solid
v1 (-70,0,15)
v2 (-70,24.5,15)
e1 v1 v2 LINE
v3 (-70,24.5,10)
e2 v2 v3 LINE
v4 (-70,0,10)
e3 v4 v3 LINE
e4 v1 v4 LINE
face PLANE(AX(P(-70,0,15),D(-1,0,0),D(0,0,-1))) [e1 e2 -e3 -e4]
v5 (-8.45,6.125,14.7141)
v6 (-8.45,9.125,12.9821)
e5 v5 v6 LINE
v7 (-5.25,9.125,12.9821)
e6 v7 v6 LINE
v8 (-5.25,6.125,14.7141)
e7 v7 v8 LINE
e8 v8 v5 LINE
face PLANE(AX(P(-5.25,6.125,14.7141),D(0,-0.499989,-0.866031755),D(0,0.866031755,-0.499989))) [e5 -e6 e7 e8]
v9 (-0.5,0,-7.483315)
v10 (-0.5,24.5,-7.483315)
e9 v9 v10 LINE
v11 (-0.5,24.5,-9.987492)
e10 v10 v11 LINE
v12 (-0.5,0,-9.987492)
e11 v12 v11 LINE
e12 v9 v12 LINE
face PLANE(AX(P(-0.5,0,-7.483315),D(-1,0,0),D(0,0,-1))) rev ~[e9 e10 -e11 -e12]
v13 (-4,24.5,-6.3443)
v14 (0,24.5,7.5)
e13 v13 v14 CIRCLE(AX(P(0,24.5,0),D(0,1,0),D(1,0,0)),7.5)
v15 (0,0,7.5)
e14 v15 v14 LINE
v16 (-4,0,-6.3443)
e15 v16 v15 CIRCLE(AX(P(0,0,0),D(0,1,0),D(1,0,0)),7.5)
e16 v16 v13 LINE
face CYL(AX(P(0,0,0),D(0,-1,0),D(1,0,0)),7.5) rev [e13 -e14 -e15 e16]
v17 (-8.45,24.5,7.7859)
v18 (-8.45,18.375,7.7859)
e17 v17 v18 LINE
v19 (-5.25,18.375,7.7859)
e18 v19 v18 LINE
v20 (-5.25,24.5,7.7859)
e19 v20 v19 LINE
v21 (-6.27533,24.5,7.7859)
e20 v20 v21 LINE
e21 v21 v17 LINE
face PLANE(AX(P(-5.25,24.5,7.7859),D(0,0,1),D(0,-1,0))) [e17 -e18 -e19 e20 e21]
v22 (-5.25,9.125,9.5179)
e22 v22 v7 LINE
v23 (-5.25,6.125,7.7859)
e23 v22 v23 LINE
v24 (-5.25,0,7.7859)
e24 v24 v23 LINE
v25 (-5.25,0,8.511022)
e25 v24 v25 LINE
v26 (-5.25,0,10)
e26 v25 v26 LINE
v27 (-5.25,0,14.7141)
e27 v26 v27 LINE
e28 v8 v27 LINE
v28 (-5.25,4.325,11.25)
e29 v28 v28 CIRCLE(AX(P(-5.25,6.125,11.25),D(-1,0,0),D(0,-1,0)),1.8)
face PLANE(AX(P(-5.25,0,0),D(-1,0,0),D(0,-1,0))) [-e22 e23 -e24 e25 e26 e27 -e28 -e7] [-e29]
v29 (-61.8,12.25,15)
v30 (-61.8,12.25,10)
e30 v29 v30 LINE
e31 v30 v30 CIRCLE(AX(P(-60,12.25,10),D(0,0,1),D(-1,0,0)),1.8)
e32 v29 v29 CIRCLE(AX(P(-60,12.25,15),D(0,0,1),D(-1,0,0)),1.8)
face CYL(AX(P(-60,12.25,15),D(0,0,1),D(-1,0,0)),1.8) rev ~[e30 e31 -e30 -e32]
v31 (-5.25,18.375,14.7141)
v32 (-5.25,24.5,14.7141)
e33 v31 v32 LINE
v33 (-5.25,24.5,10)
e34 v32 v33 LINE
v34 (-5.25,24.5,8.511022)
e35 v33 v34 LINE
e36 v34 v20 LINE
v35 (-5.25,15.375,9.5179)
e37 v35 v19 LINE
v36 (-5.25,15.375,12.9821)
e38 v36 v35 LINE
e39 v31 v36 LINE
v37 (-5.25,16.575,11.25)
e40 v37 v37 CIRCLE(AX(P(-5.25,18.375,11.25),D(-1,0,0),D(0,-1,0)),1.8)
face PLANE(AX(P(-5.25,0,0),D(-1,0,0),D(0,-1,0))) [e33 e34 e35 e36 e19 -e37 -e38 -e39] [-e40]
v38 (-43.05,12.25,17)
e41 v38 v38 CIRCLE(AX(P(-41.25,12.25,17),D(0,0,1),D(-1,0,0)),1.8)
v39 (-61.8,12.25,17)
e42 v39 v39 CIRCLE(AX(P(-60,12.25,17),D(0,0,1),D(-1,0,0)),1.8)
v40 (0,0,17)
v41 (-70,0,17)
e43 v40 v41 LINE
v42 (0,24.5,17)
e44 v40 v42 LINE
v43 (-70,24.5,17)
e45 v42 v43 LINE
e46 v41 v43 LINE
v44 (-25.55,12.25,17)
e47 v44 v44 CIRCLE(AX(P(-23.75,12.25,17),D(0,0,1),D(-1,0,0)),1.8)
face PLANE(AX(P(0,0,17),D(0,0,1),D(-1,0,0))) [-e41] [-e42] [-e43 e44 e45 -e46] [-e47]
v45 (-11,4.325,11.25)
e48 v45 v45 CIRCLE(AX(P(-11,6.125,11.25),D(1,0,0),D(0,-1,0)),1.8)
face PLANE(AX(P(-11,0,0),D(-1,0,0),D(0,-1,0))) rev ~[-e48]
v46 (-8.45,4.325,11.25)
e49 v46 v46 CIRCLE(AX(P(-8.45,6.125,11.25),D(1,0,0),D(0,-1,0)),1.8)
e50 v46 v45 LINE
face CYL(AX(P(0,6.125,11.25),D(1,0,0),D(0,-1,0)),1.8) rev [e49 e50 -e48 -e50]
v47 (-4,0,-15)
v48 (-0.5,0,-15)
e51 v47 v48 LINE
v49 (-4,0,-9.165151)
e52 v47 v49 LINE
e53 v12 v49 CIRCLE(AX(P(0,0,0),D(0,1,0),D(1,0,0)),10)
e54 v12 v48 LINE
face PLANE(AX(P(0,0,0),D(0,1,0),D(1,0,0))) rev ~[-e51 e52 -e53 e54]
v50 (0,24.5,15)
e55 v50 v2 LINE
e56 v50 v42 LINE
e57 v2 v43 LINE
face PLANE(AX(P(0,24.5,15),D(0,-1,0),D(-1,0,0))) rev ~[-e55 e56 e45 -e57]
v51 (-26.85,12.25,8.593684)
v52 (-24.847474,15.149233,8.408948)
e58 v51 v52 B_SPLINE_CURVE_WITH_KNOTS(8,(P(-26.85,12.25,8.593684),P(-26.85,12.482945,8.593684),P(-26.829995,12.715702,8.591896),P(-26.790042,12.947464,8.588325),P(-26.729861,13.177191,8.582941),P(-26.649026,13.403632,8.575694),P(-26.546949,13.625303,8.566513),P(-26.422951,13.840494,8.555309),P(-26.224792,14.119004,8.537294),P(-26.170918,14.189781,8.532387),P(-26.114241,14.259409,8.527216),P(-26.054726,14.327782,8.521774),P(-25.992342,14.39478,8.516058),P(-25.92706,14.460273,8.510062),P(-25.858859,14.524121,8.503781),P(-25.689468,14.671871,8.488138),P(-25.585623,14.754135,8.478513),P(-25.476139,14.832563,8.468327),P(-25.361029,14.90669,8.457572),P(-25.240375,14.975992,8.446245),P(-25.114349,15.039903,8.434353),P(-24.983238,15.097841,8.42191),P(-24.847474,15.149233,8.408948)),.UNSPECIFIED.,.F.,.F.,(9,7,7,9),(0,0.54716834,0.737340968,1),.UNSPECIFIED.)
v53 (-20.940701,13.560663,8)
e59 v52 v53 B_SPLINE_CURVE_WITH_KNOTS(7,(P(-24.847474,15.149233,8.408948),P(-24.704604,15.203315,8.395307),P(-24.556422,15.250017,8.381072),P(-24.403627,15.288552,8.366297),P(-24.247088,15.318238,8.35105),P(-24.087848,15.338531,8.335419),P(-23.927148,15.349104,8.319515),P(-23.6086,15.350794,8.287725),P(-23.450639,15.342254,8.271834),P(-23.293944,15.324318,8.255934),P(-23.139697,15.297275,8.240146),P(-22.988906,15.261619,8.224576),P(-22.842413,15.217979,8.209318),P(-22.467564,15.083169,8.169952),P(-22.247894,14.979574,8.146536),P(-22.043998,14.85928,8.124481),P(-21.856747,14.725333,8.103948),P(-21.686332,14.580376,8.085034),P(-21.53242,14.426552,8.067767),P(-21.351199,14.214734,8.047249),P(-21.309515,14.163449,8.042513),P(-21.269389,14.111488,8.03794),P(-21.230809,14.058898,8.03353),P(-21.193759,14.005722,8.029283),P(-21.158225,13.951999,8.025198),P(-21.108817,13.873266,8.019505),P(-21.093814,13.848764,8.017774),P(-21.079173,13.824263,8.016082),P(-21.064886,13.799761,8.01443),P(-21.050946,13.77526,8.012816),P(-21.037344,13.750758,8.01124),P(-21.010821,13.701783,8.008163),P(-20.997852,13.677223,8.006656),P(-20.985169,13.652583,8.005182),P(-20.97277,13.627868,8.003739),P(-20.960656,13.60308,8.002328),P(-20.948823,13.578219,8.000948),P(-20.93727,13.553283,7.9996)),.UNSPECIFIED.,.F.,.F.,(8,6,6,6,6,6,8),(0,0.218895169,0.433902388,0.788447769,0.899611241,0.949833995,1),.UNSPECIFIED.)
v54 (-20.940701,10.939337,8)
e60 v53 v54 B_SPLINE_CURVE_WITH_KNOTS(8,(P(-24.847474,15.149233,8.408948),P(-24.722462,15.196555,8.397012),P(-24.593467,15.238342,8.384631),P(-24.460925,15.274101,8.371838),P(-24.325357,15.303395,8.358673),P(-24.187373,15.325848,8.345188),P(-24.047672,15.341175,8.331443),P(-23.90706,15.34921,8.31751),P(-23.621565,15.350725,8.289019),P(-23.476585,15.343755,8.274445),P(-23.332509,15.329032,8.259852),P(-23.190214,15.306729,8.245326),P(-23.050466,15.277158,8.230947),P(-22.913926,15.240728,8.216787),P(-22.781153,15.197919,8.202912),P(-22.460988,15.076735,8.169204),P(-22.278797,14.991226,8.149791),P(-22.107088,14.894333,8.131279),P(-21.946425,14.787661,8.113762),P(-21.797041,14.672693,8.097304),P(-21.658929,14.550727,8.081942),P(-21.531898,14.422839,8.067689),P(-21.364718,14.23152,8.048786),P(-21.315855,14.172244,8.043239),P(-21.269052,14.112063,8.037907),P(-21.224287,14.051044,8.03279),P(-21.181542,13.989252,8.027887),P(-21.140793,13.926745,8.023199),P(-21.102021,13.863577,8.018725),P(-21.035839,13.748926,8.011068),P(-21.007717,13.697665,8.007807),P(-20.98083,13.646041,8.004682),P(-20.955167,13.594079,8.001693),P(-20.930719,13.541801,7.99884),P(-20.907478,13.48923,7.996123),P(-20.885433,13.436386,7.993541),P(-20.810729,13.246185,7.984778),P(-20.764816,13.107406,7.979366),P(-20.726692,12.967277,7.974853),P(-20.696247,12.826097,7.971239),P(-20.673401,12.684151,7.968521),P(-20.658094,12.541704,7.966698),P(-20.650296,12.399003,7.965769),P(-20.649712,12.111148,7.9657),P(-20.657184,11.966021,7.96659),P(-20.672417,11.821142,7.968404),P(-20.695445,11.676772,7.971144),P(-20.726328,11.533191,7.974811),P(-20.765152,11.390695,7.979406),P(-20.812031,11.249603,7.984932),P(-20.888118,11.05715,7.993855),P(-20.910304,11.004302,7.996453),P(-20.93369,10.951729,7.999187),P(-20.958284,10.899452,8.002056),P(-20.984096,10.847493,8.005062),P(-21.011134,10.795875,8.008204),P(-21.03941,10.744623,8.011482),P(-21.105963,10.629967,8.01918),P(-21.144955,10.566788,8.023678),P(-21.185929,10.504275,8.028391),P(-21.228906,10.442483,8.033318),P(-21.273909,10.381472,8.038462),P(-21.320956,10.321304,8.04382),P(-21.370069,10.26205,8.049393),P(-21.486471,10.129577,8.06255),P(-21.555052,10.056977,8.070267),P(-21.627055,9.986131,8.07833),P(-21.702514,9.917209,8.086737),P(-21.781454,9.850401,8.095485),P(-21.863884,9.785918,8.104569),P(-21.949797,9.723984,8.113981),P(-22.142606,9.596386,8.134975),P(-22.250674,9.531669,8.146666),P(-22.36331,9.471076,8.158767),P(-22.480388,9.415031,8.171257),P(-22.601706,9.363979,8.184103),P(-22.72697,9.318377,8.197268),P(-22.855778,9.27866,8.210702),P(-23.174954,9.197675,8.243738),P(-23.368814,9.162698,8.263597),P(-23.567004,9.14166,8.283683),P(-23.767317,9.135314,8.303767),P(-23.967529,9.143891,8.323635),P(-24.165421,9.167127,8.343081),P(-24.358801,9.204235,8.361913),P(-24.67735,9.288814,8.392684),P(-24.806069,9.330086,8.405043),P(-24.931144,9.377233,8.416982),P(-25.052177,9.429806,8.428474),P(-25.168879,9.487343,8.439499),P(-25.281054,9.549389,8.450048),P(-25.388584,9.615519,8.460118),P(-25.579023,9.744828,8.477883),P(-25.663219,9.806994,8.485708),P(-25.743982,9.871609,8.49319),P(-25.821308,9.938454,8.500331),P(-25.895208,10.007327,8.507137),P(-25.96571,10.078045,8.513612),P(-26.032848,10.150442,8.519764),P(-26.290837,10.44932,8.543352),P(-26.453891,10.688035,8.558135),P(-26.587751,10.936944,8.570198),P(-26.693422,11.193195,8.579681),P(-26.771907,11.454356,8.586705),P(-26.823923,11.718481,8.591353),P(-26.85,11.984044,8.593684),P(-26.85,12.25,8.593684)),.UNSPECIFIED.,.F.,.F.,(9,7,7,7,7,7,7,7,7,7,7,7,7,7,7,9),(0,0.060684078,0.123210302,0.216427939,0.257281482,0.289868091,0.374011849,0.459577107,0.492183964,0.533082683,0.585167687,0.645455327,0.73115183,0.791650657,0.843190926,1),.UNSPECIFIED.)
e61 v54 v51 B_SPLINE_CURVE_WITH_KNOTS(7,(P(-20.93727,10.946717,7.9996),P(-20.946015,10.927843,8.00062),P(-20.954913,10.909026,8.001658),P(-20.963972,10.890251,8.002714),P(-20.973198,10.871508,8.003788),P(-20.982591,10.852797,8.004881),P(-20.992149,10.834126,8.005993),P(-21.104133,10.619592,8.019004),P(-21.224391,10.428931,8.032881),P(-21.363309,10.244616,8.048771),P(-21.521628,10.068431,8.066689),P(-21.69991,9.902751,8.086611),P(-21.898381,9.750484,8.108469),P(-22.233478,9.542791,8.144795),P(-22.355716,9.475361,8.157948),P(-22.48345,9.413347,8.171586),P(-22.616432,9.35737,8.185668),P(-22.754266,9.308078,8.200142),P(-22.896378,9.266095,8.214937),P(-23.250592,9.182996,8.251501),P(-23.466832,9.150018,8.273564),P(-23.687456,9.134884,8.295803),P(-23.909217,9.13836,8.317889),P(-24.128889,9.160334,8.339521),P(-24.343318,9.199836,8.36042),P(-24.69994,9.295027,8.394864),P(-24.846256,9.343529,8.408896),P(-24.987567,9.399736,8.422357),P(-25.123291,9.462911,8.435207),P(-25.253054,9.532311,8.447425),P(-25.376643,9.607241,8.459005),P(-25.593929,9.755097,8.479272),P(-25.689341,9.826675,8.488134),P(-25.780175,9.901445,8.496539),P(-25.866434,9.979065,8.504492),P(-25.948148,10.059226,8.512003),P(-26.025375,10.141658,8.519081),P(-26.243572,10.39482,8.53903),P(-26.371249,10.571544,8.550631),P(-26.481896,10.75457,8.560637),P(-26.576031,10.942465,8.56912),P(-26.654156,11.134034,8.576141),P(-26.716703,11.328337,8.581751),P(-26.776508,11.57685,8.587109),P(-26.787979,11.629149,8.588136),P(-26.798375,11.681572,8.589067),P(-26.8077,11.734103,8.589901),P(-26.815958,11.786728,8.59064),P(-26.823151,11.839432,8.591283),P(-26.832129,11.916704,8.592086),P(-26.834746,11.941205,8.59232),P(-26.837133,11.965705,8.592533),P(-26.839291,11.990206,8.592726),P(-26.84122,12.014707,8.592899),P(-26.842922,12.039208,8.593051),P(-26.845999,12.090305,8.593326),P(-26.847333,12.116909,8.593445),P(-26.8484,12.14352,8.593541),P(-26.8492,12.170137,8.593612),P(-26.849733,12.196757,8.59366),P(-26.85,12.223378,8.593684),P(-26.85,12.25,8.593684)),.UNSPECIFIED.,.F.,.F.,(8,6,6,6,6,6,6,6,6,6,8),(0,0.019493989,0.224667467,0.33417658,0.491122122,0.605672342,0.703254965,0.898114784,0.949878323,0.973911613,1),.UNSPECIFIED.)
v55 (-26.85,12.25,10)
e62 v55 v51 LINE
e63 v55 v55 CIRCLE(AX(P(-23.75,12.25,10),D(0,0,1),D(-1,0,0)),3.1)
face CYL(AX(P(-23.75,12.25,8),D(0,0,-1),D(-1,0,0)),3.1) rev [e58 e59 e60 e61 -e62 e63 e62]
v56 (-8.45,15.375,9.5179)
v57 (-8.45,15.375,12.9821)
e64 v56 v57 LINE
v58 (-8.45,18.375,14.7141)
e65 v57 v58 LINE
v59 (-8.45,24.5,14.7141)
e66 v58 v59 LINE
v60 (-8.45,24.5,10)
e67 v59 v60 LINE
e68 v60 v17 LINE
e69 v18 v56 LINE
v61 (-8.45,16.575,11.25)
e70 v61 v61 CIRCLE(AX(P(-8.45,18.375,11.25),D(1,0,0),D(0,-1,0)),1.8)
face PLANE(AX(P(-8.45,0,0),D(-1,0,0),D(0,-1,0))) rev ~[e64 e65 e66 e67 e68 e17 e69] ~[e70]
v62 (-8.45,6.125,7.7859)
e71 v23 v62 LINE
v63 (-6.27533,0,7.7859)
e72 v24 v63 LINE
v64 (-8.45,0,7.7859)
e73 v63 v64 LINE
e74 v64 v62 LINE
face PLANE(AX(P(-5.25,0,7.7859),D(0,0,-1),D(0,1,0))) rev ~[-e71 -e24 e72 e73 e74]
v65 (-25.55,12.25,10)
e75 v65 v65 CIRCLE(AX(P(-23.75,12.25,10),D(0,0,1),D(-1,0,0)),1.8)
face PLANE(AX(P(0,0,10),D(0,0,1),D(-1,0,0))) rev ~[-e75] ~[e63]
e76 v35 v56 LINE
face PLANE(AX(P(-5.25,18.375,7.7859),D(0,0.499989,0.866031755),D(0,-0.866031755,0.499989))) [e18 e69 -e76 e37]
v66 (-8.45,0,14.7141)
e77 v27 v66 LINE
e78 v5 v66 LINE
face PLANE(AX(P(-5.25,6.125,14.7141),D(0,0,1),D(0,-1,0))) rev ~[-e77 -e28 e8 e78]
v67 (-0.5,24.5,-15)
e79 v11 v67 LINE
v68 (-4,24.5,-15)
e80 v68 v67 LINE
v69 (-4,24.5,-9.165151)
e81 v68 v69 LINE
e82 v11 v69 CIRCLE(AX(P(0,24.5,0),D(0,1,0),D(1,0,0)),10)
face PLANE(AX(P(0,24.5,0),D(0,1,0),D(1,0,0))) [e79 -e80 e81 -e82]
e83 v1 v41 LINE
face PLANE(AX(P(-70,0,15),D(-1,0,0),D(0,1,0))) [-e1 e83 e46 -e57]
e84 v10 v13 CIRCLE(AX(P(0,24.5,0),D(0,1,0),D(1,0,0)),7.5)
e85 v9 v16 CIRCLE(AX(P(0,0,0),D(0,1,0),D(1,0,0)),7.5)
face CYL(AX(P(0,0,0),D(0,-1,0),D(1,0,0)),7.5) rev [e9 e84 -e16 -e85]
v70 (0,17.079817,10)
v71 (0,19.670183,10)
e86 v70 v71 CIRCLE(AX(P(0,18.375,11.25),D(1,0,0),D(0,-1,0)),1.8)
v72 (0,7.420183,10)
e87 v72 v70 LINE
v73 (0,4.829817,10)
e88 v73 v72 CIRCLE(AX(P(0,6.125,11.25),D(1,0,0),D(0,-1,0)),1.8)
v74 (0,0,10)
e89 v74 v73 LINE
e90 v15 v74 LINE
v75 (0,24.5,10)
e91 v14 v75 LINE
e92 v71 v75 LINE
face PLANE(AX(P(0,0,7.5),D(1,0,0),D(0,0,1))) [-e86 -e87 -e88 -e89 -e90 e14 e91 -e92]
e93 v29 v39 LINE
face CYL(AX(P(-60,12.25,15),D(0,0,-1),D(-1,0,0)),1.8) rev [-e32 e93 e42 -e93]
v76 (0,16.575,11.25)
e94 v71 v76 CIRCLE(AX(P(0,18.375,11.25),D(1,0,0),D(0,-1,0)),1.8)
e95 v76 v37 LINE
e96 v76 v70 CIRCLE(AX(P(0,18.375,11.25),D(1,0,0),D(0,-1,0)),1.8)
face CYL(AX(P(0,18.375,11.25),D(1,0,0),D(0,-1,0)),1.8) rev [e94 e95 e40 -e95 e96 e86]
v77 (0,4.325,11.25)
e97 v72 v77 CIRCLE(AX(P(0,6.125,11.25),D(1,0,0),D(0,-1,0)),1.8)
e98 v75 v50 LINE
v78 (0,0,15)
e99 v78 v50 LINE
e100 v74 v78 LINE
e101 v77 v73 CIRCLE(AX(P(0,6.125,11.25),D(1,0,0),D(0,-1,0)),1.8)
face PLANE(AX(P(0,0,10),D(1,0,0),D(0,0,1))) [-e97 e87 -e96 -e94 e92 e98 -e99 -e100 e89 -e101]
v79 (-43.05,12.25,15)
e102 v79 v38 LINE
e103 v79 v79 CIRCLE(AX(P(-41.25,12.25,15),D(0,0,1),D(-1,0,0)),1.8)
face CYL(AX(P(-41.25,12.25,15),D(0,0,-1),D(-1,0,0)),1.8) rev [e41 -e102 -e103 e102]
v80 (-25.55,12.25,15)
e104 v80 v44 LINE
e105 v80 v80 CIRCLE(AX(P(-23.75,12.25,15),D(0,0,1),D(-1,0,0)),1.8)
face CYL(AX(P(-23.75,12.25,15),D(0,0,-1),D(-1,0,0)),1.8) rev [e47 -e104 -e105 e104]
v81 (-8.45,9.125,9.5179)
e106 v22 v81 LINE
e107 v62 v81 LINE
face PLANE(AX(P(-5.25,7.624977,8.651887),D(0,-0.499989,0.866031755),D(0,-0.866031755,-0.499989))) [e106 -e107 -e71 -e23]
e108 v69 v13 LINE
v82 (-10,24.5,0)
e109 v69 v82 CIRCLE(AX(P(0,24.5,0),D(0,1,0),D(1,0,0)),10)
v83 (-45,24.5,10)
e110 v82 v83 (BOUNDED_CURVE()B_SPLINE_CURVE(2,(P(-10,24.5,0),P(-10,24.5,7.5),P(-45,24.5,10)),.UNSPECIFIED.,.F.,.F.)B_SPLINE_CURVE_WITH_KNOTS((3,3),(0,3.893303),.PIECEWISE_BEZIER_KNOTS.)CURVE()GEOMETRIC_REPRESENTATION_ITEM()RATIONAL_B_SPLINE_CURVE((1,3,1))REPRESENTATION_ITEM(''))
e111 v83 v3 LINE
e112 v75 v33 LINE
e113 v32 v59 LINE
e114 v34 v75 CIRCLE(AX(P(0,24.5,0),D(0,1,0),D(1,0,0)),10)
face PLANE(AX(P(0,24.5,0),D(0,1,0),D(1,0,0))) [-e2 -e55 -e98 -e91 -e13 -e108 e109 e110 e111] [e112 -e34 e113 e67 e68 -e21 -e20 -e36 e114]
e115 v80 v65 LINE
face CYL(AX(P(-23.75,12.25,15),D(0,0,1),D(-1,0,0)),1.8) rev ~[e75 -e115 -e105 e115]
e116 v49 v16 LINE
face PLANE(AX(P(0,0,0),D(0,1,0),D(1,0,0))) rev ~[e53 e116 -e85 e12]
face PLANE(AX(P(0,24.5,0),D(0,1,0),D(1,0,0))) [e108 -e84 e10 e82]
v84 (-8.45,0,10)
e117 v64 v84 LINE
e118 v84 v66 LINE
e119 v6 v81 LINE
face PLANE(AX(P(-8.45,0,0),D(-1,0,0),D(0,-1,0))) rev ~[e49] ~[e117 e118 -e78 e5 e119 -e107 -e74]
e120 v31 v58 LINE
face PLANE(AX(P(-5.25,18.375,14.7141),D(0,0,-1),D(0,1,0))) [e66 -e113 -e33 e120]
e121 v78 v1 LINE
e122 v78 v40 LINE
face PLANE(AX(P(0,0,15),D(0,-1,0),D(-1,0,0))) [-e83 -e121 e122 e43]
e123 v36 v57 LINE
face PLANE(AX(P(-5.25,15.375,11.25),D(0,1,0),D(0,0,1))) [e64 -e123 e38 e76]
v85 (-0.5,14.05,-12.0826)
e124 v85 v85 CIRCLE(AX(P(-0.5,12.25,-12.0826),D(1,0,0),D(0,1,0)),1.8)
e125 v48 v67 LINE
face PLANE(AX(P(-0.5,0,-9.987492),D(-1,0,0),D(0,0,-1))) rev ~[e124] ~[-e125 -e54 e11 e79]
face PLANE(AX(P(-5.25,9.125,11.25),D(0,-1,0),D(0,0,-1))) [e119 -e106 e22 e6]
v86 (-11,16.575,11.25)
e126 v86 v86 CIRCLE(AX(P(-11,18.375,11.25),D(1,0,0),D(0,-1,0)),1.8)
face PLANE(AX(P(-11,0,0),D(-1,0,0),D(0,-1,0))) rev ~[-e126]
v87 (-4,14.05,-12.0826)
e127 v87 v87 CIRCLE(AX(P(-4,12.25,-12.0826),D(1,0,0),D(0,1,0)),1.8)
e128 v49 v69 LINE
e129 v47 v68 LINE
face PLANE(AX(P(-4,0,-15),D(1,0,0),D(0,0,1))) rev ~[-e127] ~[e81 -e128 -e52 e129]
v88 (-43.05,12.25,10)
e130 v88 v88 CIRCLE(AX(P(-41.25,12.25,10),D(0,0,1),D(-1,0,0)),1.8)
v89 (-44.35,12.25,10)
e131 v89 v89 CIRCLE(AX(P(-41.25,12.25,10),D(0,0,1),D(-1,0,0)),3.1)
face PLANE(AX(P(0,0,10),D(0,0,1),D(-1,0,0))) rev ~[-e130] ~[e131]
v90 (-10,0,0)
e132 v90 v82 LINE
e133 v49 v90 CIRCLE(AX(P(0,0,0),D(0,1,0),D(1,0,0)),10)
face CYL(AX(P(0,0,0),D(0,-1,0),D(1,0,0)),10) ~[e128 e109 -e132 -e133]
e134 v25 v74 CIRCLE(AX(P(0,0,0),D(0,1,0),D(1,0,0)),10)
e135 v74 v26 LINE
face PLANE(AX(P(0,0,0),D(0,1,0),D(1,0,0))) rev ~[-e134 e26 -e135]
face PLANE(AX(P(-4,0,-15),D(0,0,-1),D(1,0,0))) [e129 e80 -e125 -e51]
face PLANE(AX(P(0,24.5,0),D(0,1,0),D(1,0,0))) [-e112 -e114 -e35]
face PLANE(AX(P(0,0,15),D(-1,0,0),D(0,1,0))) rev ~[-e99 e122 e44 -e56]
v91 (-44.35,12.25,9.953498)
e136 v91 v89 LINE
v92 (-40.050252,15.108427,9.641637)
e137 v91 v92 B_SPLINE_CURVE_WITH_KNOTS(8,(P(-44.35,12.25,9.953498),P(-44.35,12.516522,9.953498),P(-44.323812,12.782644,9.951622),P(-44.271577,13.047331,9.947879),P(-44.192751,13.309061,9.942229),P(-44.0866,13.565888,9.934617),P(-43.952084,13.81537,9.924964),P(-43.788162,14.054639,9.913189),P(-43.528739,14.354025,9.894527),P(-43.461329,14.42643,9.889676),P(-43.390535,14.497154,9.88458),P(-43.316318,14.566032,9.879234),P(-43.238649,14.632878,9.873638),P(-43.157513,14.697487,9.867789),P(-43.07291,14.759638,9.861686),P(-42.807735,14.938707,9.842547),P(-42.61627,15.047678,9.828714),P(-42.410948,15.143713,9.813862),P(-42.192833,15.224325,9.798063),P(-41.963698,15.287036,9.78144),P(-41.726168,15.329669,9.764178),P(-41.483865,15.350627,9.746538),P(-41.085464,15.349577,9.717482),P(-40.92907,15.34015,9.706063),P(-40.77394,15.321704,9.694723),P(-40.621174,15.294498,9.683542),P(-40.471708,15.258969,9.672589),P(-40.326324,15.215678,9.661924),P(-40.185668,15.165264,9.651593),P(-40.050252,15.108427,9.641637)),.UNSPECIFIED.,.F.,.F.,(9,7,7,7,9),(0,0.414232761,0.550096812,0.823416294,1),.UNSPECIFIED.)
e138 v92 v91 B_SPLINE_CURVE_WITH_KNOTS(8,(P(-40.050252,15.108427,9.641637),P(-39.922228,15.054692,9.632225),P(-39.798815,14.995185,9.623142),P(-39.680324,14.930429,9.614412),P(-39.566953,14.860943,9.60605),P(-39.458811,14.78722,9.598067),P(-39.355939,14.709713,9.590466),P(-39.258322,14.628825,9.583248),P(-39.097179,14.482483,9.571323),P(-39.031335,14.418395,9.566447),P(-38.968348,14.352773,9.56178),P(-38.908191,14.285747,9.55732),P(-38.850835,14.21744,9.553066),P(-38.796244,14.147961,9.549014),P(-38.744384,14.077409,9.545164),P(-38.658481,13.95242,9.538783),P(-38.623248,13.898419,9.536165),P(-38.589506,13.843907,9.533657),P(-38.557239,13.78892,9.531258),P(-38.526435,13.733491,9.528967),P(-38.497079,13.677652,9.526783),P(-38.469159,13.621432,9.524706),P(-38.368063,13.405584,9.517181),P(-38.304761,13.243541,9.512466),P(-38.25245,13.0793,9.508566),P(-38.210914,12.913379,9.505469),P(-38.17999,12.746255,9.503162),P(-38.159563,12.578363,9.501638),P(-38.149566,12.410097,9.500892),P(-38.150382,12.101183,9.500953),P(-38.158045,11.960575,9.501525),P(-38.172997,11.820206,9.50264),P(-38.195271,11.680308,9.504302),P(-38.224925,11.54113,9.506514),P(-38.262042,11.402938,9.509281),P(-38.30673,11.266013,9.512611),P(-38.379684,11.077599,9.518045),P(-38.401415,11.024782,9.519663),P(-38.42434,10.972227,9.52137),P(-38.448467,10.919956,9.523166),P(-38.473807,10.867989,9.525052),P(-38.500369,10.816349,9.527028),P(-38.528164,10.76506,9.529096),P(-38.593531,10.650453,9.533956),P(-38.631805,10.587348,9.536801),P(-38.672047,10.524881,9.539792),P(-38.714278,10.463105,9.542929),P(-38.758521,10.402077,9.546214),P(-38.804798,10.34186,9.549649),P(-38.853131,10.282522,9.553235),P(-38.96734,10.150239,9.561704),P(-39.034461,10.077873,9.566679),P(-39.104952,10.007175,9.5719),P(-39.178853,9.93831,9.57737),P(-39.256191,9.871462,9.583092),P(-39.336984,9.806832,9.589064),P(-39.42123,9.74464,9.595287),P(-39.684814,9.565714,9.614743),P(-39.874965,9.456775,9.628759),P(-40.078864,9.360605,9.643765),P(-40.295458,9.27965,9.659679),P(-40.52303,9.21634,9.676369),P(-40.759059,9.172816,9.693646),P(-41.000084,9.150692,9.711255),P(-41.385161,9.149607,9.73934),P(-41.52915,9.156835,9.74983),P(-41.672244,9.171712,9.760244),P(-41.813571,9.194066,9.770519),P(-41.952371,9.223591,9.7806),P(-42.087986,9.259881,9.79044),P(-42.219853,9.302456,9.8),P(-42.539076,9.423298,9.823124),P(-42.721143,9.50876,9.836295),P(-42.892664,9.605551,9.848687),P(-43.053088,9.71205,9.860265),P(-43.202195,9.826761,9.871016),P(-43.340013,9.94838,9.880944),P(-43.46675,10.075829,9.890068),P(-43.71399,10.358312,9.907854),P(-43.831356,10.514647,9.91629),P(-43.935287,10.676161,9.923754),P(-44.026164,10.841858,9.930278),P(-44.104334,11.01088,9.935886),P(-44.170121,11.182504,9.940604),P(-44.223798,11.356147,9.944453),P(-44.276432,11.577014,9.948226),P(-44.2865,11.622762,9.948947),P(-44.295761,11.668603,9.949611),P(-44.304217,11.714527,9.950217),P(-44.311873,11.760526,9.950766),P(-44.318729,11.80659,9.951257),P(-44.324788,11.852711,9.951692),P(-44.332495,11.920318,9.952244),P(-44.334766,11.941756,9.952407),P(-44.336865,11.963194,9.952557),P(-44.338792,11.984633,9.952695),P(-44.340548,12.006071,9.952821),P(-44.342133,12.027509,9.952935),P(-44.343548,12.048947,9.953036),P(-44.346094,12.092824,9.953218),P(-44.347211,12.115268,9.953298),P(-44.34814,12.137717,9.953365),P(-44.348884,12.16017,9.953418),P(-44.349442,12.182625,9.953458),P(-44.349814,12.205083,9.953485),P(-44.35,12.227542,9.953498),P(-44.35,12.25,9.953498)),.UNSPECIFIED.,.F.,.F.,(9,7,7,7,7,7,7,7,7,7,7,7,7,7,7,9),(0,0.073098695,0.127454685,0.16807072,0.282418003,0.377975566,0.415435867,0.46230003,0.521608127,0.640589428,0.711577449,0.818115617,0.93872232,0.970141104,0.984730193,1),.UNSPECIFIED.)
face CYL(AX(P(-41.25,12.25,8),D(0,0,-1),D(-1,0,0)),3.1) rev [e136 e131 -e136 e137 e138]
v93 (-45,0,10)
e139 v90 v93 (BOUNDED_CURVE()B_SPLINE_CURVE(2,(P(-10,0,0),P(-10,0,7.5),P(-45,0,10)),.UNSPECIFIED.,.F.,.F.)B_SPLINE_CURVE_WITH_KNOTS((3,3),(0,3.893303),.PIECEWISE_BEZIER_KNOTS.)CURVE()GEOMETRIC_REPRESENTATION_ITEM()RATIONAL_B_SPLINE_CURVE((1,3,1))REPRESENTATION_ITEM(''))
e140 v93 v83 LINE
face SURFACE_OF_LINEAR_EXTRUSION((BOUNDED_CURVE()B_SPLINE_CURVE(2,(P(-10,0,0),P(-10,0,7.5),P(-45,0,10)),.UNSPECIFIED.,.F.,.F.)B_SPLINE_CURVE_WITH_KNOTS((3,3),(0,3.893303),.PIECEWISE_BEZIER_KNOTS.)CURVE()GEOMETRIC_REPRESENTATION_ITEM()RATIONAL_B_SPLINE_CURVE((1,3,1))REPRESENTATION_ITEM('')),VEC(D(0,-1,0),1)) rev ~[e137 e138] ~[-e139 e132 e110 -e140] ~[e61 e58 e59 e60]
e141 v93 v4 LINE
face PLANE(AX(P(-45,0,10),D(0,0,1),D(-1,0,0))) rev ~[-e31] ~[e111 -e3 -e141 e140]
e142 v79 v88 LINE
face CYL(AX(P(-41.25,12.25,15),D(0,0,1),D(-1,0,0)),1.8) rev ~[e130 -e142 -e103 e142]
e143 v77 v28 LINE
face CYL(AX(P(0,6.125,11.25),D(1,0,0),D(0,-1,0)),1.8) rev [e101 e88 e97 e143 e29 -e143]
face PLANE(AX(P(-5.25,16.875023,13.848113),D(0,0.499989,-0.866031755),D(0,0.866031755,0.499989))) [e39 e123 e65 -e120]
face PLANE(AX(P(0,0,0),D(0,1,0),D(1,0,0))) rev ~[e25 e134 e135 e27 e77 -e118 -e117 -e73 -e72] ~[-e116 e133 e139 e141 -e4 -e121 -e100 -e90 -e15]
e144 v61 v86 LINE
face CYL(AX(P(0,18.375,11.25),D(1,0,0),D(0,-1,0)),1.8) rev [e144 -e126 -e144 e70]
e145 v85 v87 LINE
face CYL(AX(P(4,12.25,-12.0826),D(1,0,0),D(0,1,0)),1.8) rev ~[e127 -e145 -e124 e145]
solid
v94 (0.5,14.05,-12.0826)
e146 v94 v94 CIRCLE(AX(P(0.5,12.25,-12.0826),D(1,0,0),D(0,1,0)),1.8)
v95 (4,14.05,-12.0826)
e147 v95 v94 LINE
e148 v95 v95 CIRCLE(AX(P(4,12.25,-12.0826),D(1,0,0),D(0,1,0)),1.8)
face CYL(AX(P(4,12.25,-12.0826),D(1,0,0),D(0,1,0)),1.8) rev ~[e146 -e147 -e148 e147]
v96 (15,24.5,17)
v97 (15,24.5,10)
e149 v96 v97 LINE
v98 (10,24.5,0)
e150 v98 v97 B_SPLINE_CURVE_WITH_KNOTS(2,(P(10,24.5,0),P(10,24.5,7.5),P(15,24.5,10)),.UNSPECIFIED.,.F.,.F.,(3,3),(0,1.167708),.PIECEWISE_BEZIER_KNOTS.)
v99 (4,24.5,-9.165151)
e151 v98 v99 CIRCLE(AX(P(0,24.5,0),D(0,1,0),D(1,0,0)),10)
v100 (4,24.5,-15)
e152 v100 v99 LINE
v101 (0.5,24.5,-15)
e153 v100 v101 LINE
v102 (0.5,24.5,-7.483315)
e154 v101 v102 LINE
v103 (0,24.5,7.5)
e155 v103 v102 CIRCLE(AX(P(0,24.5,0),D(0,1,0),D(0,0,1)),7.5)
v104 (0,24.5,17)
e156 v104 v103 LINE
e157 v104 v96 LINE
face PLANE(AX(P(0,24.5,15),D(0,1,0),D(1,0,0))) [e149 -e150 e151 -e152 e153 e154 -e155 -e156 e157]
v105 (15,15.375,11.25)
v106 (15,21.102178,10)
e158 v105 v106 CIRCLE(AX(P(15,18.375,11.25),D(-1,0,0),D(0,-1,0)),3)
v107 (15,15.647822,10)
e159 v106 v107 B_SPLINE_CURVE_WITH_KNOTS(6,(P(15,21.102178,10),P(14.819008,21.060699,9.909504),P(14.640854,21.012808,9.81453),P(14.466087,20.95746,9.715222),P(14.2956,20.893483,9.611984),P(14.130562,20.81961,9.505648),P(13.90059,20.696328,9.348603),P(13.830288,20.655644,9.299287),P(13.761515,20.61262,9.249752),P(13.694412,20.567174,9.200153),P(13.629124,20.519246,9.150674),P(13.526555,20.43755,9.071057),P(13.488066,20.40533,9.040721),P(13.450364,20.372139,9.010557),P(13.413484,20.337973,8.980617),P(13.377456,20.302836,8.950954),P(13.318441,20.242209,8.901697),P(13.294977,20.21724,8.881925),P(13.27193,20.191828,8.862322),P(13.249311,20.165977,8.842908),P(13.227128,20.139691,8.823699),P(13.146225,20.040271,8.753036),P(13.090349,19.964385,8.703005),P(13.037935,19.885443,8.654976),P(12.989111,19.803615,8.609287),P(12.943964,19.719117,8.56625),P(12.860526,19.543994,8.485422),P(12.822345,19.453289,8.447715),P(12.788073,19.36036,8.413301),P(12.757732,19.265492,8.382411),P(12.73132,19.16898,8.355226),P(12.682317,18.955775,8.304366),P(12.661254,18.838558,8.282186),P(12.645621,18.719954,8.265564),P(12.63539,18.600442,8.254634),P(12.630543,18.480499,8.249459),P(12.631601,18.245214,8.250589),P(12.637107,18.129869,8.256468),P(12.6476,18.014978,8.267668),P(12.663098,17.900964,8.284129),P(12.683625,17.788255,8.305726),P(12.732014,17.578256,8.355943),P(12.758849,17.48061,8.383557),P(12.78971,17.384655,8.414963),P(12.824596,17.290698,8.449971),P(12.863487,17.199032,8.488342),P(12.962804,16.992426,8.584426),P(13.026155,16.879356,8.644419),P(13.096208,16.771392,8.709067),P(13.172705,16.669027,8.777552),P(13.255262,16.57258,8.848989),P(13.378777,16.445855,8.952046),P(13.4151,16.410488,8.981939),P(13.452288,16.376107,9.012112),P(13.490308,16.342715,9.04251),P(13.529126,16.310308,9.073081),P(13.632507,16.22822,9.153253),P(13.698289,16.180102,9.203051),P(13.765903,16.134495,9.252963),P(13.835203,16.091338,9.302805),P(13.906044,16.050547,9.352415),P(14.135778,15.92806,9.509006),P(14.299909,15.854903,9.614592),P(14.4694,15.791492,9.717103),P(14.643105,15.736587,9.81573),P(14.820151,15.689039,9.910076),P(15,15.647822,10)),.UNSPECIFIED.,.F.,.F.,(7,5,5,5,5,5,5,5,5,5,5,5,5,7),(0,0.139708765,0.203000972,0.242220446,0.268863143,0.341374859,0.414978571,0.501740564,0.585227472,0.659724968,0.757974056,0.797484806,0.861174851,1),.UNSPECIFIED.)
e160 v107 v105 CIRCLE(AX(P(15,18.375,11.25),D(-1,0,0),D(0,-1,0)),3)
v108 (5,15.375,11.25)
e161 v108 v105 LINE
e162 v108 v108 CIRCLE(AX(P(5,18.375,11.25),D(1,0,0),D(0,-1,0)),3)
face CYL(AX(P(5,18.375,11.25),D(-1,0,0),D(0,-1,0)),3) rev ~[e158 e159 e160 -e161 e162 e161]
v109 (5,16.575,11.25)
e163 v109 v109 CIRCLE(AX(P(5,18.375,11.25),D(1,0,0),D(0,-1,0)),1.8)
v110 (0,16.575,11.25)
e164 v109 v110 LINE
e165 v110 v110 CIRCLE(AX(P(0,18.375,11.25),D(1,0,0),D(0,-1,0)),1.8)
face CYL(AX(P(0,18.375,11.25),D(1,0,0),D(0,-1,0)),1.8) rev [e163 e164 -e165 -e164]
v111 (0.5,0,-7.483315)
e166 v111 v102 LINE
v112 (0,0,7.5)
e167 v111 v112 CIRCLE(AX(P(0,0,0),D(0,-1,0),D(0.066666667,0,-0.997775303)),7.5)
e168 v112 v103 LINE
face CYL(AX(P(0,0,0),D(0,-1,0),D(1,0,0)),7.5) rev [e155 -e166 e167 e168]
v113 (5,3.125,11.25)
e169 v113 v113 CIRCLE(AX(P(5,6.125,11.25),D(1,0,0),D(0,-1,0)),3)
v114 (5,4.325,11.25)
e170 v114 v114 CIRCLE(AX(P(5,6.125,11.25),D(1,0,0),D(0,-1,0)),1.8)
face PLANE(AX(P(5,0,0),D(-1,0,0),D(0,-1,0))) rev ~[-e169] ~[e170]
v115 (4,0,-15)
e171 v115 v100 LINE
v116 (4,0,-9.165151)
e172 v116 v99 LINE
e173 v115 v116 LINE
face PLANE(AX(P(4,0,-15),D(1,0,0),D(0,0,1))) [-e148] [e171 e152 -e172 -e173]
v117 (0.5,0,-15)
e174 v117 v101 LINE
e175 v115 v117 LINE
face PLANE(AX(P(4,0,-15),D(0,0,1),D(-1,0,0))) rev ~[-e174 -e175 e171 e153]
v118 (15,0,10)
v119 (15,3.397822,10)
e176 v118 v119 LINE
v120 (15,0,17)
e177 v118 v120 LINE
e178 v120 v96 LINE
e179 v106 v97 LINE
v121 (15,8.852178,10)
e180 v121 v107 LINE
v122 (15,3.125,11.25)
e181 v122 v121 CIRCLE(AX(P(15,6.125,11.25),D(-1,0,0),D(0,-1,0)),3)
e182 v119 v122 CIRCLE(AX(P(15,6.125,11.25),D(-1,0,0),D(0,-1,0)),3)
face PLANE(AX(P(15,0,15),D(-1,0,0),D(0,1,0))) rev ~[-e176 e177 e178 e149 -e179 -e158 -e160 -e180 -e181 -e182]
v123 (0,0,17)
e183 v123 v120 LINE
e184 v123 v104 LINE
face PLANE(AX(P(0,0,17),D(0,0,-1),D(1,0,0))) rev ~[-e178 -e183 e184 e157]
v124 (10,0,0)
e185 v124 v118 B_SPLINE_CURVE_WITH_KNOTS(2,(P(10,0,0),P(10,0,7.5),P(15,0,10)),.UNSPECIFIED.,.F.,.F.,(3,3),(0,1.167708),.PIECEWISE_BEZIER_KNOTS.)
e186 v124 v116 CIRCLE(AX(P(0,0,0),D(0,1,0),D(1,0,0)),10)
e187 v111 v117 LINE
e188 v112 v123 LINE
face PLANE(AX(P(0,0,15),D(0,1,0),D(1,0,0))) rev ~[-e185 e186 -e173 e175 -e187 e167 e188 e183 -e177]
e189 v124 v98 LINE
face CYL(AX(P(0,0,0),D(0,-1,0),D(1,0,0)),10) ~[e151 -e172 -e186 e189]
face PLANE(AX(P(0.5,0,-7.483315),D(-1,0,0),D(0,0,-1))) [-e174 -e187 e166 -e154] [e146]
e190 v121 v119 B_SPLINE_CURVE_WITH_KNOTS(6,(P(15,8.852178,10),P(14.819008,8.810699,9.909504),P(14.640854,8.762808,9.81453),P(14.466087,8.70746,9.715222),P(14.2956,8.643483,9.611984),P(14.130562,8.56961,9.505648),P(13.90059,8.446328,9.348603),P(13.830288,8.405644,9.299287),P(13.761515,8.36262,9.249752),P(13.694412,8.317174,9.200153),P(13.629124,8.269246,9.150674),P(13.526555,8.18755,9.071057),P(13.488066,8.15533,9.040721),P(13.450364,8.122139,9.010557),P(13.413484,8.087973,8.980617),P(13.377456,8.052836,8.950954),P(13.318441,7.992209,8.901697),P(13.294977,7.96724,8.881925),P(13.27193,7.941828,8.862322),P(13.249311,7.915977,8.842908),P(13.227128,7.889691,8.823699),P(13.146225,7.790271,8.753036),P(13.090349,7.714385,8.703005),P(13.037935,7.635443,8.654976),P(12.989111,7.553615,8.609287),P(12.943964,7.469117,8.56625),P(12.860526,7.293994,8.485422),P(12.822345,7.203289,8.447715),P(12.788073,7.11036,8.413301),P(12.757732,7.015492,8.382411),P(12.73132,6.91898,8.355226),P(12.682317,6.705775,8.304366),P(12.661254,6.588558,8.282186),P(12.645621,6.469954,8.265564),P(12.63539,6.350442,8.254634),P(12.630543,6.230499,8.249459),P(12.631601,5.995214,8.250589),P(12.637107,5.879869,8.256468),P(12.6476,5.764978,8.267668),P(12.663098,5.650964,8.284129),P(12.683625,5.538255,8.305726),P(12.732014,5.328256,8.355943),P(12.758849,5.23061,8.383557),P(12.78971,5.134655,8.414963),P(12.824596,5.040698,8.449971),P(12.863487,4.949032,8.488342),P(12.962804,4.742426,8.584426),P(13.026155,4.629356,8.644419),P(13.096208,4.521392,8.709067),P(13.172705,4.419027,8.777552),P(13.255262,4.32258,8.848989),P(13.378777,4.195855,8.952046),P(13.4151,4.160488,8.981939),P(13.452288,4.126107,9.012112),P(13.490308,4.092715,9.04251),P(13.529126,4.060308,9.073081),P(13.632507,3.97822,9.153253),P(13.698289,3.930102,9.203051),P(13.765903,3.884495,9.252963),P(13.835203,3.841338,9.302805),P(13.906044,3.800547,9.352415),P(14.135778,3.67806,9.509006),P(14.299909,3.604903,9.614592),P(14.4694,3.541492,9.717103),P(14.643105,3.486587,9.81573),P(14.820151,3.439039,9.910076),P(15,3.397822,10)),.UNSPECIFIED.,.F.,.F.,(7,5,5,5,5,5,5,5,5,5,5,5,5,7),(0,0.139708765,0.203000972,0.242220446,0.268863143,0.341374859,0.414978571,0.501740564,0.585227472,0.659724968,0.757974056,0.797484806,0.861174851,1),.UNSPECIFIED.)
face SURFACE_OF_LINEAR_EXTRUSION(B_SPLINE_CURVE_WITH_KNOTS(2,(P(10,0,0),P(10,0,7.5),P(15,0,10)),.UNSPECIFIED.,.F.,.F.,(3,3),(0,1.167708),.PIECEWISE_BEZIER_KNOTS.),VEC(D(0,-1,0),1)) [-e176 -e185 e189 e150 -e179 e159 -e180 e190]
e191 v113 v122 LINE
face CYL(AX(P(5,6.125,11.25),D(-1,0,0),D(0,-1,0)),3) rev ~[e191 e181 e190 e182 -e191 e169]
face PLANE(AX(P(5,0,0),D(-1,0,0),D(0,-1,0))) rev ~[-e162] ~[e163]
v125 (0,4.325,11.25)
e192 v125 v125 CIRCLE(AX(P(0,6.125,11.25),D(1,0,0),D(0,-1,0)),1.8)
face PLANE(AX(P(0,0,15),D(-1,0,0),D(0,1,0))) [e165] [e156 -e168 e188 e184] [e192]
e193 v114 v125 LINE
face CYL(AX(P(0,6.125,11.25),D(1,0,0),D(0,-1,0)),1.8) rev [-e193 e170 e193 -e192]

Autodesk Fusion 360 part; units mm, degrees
sketch "front" plane through (0, 0, 0) normal (0, 1, 0) x (1, 0, 0) in component "bearing-holder"
  circle A0 centre (0, 0) radius 7.5
  line L0 (0, 0) -> (0, -15) construction
  line L1 (0, -15) -> (-70, -15)
  line L2 (-70, -15) -> (-70, 15)
  line L3 (-70, 15) -> (0, 15)
  line L4 (0, 15) -> (0, -15)
  line L5 (-70, -15) -> (0, -15)
  line L6 (0, -15) -> (0, -10)
  line L7 (0, -10) -> (-70, -10)
  line L8 (-70, -10) -> (-70, -15)
  circle A1 centre (0, 0) radius 10
  line L9 (-35, -10) -> (-45, -10) construction
  line L10 (0, 0) -> (-10, 0) construction
  line L11 (-10, 0) -> (-10, -7.5) construction
  spline S0 degree 2 poles (-10, 0) (-10, -7.5) (-45, -10) knots 0 0 0 3.893303 3.893303 3.893303 weights 1 3 1
  line L12 (0, 0) -> (-4, 0) construction
  line L13 (-4, 0) -> (-4, 15) construction
  line L14 (-4, 15) -> (0, 15) construction
  line L15 (0, 15) -> (0, 0) construction
  line L16 (0, 0) -> (-0.5, 0) construction
  line L17 (-0.5, 0) -> (-0.5, 15) construction
  line L18 (-0.5, 15) -> (0, 15) construction
  line L19 (0, 15) -> (0, 0) construction
  line L20 (-4, 6.3443) -> (-0.5, 6.3443)
  line L21 (-0.5, 6.3443) -> (-0.5, 15)
  line L22 (-0.5, 15) -> (-4, 15)
  line L23 (-4, 15) -> (-4, 6.3443)
  line L24 (0, -15) -> (15, -15)
  line L25 (15, -15) -> (15, 15)
  line L26 (15, 15) -> (0, 15)
  line L27 (0, 15) -> (0, -15)
  line L28 (0, 0) -> (0.5, 0) construction
  line L29 (0, 0) -> (4, 0) construction
  line L30 (0.5, 0) -> (4, 0) construction
  line L31 (4, 0) -> (4, 15) construction
  line L32 (4, 15) -> (0.5, 15) construction
  line L33 (0.5, 15) -> (0.5, 0) construction
  line L34 (4, 6.3443) -> (0.5, 6.3443)
  line L35 (0.5, 6.3443) -> (0.5, 15)
  line L36 (0.5, 15) -> (4, 15)
  line L37 (4, 15) -> (4, 6.3443)
  line L38 (0, -10) -> (15, -10) construction
  line L39 (0, 0) -> (10, 0) construction
  line L40 (10, 0) -> (10, -7.5) construction
  spline S1 degree 2 poles (10, 0) (10, -7.5) (15, -10) knots 0 0 0 1.167708 1.167708 1.167708
  dimension "d1" = 15
  dimension "d2" = 15
  dimension "d3" = 70
  dimension "d4" = 30
  dimension "d5" = 70
  dimension "d6" = 5
  dimension "d7" = 20
  dimension "d8" = 10
  dimension "d9" = 7.5
  dimension "d11" = 4
  dimension "d12" = 15
  dimension "d13" = 0.5
  dimension "d16" = 15
  dimension "d17" = 30
  dimension "d18" = 0.5
  dimension "d19" = 4
  dimension "d20" = 7.5
extrude "Extrude1" add sketch "front" along normal blind 24.5 contours A0 L4 A1 L23 L27 | A0 A1 L21 L23 | L1 L2 L4 L5 L6 L7 L8 L27 | L7 A1 S0 | L3 A1 L21 L22 L23 makes body 1 in component "bearing-holder"
extrude "Extrude2" add sketch "front" along normal blind 24.5 separate body contours A0 L4 A1 L27 L37 | A0 A1 L35 L37 | A1 L26 L35 L36 L37 | L4 L6 A1 L24 L25 L27 S1 makes body 2 in component "bearing-holder"
sketch "bottom-screws" plane through (4, 0, 0) normal (1, 0, 0) x (0, 1, 0) in component "bearing-holder"
  line L0 (0, -9.1652) -> (0, -15)
  line L1 (0, -15) -> (24.5, -15)
  line L2 (24.5, -15) -> (24.5, -9.1652)
  line L3 (24.5, -9.1652) -> (0, -9.1652)
  line L4 (0, -9.1652) -> (24.5, -15) construction
  line L5 (24.5, -9.1652) -> (0, -15) construction
  line L6 (12.25, -9.1652) -> (12.25, -15) construction
  line L7 (0, -9.1652) -> (12.25, -15) construction
  line L8 (12.25, -9.1652) -> (0, -15) construction
  line L9 (12.25, -9.1652) -> (24.5, -15) construction
  line L10 (24.5, -9.1652) -> (12.25, -15) construction
  circle A0 centre (6.125, -12.0826) radius 1.8
  circle A1 centre (18.375, -12.0826) radius 1.8
  circle A2 centre (12.25, -12.0826) radius 1.8
  dimension "d24" = 3.6
  dimension "d25" = 3.6
  dimension "d57" = 3.6
sketch "upper-screws" plane through (0, 0, 0) normal (-1, 0, 0) x (0, -1, 0) in component "bearing-holder"
  line L0 (0, 7.5) -> (0, 15)
  line L1 (0, 15) -> (-24.5, 15)
  line L2 (-24.5, 15) -> (-24.5, 7.5)
  line L3 (-24.5, 7.5) -> (0, 7.5)
  line L4 (-24.5, 15) -> (0, 7.5) construction
  line L5 (0, 15) -> (-24.5, 7.5) construction
  line L6 (-12.25, 15) -> (-12.25, 7.5) construction
  line L7 (-24.5, 15) -> (-12.25, 7.5) construction
  line L8 (-12.25, 15) -> (-24.5, 7.5) construction
  line L9 (-12.25, 15) -> (0, 7.5) construction
  line L10 (0, 15) -> (-12.25, 7.5) construction
  circle A0 centre (-18.375, 11.25) radius 3
  circle A1 centre (-6.125, 11.25) radius 3
  circle A2 centre (-18.375, 11.25) radius 1.8
  circle A3 centre (-6.125, 11.25) radius 1.8
  line L11 (-15.375, 12.9821) -> (-18.375, 14.7141)
  line L12 (-18.375, 14.7141) -> (-21.375, 12.9821)
  line L13 (-21.375, 12.9821) -> (-21.375, 9.5179)
  line L14 (-21.375, 9.5179) -> (-18.375, 7.7859)
  line L15 (-18.375, 7.7859) -> (-15.375, 9.5179)
  line L16 (-15.375, 9.5179) -> (-15.375, 12.9821)
  line L17 (-9.125, 9.5179) -> (-6.125, 7.7859)
  line L18 (-6.125, 7.7859) -> (-3.125, 9.5179)
  line L19 (-3.125, 9.5179) -> (-3.125, 12.9821)
  line L20 (-3.125, 12.9821) -> (-6.125, 14.7141)
  line L21 (-6.125, 14.7141) -> (-9.125, 12.9821)
  line L22 (-9.125, 12.9821) -> (-9.125, 9.5179)
  line L23 (-18.375, 14.7141) -> (-24.5, 14.7141)
  line L24 (-24.5, 14.7141) -> (-24.5, 7.7859)
  line L25 (-24.5, 7.7859) -> (-18.375, 7.7859)
  line L26 (-18.375, 7.7859) -> (-18.375, 14.7141)
  line L27 (-6.125, 14.7141) -> (0, 14.7141)
  line L28 (0, 14.7141) -> (0, 7.7859)
  line L29 (0, 7.7859) -> (-6.125, 7.7859)
  line L30 (-6.125, 7.7859) -> (-6.125, 14.7141)
  point P0 (-18.375, 11.25)
  point P1 (-6.125, 11.25)
  dimension "d28" = 6
  dimension "d29" = 6
  dimension "d30" = 3.6
  dimension "d31" = 3.6
  dimension "d52" = 3
  dimension "d53" = 3
extrude "Extrude4" cut sketch "upper-screws" against normal blind 10 from surface at -5 contours A1 A3 L30 | A1 A3 L30 | A3 L30 | A3 L30 | A0 A2 L26 | A0 A2 L26 | A2 L26 | A2 L26 bodies 2 in component "bearing-holder"
extrude "Extrude5" cut sketch "upper-screws" along normal blind 11 and the other way blind 7.5 contours A3 L30 | A3 L30 | A2 L26 | A2 L26 bodies 1 2 in component "bearing-holder"
sketch "plate-mount" plane through (0, 0, 15) normal (0, 0, 1) x (-1, 0, 0) in component "bearing-holder"
  line L0 (70, 0) -> (0, 0)
  line L1 (0, 0) -> (0, -24.5)
  line L2 (0, -24.5) -> (70, -24.5)
  line L3 (70, -24.5) -> (70, 0)
  line L4 (70, -24.5) -> (60, -24.5) construction
  line L5 (60, -24.5) -> (60, 0) construction
  line L6 (60, 0) -> (70, 0) construction
  line L7 (70, 0) -> (70, -24.5) construction
  circle A0 centre (60, -12.25) radius 1.8
  line L8 (60, -24.5) -> (50, -24.5) construction
  line L9 (50, -24.5) -> (15, -24.5) construction
  line L10 (15, -24.5) -> (15, 0) construction
  line L11 (15, 0) -> (50, 0) construction
  line L12 (50, 0) -> (50, -24.5) construction
  line L13 (50, -24.5) -> (32.5, 0) construction
  line L14 (32.5, -24.5) -> (50, 0) construction
  line L15 (32.5, -24.5) -> (15, 0) construction
  line L16 (15, -24.5) -> (32.5, 0) construction
  circle A1 centre (41.25, -12.25) radius 1.8
  circle A2 centre (23.75, -12.25) radius 1.8
  circle A3 centre (41.25, -12.25) radius 3.1
  circle A4 centre (23.75, -12.25) radius 3.1
  dimension "d39" = 10
  dimension "d40" = 3.6
  dimension "d41" = 10
  dimension "d42" = 35
  dimension "d43" = 3.6
  dimension "d44" = 3.6
  dimension "d47" = 6.2
  dimension "d48" = 6.2
extrude "Extrude6" cut sketch "plate-mount" against normal blind 7 contours A0 | A1 | A2 bodies 1 in component "bearing-holder"
extrude "Extrude7" cut sketch "plate-mount" along normal blind 2 from surface at -7 contours A3 | A4 bodies 1 in component "bearing-holder"
extrude "Extrude8" cut sketch "upper-screws" along normal blind 3.2 from surface at 5.25 contours L0 L18 L19 L20 L27 L28 L29 | A1 L18 L30 | A1 L17 L30 | L2 L12 L13 L14 L23 L24 L25 | A1 L21 L30 | A1 L20 L30 | A1 L17 L22 | A1 A3 L30 | A1 A3 L30 | A1 L18 L19 | A0 L15 L26 | A0 L14 L26 | A1 L19 L20 | A1 L21 L22 | A0 L12 L26 | A0 L11 L26 | A0 L13 L14 | A0 A2 L26 | A0 A2 L26 | A0 L15 L16 | A0 L11 L16 | A0 L12 L13 bodies 1 in component "bearing-holder"
extrude "Extrude9" cut sketch "bottom-screws" against normal blind 8 contours A2 bodies 1 2 in component "bearing-holder"
extrude "Extrude10" add 1 faces at (5, 8.1667, 15) along direction (0, 0, 1) blind 2 on bodies 2 bodies 2 in component "bearing-holder"
extrude "Extrude11" add 1 faces at (-7.3167, 12.25, 15) along direction (0, 0, 1) blind 2 on bodies 1 bodies 1 in component "bearing-holder"
delete_face "DeleteFace1" 1 faces at (-20.8872, 12.5465, 8) on bodies 1 in component "bearing-holder"
component "bearing-holder" placed x (1, 0, 0) y (0, 1, 0) z (0, 0, 1) at (0, 0, 0)
equation "d42 = 50 mm - 15 mm"
equation "d54 = ( ( 7.5 / 2 ) * 1 mm ) + 1.5 mm"
